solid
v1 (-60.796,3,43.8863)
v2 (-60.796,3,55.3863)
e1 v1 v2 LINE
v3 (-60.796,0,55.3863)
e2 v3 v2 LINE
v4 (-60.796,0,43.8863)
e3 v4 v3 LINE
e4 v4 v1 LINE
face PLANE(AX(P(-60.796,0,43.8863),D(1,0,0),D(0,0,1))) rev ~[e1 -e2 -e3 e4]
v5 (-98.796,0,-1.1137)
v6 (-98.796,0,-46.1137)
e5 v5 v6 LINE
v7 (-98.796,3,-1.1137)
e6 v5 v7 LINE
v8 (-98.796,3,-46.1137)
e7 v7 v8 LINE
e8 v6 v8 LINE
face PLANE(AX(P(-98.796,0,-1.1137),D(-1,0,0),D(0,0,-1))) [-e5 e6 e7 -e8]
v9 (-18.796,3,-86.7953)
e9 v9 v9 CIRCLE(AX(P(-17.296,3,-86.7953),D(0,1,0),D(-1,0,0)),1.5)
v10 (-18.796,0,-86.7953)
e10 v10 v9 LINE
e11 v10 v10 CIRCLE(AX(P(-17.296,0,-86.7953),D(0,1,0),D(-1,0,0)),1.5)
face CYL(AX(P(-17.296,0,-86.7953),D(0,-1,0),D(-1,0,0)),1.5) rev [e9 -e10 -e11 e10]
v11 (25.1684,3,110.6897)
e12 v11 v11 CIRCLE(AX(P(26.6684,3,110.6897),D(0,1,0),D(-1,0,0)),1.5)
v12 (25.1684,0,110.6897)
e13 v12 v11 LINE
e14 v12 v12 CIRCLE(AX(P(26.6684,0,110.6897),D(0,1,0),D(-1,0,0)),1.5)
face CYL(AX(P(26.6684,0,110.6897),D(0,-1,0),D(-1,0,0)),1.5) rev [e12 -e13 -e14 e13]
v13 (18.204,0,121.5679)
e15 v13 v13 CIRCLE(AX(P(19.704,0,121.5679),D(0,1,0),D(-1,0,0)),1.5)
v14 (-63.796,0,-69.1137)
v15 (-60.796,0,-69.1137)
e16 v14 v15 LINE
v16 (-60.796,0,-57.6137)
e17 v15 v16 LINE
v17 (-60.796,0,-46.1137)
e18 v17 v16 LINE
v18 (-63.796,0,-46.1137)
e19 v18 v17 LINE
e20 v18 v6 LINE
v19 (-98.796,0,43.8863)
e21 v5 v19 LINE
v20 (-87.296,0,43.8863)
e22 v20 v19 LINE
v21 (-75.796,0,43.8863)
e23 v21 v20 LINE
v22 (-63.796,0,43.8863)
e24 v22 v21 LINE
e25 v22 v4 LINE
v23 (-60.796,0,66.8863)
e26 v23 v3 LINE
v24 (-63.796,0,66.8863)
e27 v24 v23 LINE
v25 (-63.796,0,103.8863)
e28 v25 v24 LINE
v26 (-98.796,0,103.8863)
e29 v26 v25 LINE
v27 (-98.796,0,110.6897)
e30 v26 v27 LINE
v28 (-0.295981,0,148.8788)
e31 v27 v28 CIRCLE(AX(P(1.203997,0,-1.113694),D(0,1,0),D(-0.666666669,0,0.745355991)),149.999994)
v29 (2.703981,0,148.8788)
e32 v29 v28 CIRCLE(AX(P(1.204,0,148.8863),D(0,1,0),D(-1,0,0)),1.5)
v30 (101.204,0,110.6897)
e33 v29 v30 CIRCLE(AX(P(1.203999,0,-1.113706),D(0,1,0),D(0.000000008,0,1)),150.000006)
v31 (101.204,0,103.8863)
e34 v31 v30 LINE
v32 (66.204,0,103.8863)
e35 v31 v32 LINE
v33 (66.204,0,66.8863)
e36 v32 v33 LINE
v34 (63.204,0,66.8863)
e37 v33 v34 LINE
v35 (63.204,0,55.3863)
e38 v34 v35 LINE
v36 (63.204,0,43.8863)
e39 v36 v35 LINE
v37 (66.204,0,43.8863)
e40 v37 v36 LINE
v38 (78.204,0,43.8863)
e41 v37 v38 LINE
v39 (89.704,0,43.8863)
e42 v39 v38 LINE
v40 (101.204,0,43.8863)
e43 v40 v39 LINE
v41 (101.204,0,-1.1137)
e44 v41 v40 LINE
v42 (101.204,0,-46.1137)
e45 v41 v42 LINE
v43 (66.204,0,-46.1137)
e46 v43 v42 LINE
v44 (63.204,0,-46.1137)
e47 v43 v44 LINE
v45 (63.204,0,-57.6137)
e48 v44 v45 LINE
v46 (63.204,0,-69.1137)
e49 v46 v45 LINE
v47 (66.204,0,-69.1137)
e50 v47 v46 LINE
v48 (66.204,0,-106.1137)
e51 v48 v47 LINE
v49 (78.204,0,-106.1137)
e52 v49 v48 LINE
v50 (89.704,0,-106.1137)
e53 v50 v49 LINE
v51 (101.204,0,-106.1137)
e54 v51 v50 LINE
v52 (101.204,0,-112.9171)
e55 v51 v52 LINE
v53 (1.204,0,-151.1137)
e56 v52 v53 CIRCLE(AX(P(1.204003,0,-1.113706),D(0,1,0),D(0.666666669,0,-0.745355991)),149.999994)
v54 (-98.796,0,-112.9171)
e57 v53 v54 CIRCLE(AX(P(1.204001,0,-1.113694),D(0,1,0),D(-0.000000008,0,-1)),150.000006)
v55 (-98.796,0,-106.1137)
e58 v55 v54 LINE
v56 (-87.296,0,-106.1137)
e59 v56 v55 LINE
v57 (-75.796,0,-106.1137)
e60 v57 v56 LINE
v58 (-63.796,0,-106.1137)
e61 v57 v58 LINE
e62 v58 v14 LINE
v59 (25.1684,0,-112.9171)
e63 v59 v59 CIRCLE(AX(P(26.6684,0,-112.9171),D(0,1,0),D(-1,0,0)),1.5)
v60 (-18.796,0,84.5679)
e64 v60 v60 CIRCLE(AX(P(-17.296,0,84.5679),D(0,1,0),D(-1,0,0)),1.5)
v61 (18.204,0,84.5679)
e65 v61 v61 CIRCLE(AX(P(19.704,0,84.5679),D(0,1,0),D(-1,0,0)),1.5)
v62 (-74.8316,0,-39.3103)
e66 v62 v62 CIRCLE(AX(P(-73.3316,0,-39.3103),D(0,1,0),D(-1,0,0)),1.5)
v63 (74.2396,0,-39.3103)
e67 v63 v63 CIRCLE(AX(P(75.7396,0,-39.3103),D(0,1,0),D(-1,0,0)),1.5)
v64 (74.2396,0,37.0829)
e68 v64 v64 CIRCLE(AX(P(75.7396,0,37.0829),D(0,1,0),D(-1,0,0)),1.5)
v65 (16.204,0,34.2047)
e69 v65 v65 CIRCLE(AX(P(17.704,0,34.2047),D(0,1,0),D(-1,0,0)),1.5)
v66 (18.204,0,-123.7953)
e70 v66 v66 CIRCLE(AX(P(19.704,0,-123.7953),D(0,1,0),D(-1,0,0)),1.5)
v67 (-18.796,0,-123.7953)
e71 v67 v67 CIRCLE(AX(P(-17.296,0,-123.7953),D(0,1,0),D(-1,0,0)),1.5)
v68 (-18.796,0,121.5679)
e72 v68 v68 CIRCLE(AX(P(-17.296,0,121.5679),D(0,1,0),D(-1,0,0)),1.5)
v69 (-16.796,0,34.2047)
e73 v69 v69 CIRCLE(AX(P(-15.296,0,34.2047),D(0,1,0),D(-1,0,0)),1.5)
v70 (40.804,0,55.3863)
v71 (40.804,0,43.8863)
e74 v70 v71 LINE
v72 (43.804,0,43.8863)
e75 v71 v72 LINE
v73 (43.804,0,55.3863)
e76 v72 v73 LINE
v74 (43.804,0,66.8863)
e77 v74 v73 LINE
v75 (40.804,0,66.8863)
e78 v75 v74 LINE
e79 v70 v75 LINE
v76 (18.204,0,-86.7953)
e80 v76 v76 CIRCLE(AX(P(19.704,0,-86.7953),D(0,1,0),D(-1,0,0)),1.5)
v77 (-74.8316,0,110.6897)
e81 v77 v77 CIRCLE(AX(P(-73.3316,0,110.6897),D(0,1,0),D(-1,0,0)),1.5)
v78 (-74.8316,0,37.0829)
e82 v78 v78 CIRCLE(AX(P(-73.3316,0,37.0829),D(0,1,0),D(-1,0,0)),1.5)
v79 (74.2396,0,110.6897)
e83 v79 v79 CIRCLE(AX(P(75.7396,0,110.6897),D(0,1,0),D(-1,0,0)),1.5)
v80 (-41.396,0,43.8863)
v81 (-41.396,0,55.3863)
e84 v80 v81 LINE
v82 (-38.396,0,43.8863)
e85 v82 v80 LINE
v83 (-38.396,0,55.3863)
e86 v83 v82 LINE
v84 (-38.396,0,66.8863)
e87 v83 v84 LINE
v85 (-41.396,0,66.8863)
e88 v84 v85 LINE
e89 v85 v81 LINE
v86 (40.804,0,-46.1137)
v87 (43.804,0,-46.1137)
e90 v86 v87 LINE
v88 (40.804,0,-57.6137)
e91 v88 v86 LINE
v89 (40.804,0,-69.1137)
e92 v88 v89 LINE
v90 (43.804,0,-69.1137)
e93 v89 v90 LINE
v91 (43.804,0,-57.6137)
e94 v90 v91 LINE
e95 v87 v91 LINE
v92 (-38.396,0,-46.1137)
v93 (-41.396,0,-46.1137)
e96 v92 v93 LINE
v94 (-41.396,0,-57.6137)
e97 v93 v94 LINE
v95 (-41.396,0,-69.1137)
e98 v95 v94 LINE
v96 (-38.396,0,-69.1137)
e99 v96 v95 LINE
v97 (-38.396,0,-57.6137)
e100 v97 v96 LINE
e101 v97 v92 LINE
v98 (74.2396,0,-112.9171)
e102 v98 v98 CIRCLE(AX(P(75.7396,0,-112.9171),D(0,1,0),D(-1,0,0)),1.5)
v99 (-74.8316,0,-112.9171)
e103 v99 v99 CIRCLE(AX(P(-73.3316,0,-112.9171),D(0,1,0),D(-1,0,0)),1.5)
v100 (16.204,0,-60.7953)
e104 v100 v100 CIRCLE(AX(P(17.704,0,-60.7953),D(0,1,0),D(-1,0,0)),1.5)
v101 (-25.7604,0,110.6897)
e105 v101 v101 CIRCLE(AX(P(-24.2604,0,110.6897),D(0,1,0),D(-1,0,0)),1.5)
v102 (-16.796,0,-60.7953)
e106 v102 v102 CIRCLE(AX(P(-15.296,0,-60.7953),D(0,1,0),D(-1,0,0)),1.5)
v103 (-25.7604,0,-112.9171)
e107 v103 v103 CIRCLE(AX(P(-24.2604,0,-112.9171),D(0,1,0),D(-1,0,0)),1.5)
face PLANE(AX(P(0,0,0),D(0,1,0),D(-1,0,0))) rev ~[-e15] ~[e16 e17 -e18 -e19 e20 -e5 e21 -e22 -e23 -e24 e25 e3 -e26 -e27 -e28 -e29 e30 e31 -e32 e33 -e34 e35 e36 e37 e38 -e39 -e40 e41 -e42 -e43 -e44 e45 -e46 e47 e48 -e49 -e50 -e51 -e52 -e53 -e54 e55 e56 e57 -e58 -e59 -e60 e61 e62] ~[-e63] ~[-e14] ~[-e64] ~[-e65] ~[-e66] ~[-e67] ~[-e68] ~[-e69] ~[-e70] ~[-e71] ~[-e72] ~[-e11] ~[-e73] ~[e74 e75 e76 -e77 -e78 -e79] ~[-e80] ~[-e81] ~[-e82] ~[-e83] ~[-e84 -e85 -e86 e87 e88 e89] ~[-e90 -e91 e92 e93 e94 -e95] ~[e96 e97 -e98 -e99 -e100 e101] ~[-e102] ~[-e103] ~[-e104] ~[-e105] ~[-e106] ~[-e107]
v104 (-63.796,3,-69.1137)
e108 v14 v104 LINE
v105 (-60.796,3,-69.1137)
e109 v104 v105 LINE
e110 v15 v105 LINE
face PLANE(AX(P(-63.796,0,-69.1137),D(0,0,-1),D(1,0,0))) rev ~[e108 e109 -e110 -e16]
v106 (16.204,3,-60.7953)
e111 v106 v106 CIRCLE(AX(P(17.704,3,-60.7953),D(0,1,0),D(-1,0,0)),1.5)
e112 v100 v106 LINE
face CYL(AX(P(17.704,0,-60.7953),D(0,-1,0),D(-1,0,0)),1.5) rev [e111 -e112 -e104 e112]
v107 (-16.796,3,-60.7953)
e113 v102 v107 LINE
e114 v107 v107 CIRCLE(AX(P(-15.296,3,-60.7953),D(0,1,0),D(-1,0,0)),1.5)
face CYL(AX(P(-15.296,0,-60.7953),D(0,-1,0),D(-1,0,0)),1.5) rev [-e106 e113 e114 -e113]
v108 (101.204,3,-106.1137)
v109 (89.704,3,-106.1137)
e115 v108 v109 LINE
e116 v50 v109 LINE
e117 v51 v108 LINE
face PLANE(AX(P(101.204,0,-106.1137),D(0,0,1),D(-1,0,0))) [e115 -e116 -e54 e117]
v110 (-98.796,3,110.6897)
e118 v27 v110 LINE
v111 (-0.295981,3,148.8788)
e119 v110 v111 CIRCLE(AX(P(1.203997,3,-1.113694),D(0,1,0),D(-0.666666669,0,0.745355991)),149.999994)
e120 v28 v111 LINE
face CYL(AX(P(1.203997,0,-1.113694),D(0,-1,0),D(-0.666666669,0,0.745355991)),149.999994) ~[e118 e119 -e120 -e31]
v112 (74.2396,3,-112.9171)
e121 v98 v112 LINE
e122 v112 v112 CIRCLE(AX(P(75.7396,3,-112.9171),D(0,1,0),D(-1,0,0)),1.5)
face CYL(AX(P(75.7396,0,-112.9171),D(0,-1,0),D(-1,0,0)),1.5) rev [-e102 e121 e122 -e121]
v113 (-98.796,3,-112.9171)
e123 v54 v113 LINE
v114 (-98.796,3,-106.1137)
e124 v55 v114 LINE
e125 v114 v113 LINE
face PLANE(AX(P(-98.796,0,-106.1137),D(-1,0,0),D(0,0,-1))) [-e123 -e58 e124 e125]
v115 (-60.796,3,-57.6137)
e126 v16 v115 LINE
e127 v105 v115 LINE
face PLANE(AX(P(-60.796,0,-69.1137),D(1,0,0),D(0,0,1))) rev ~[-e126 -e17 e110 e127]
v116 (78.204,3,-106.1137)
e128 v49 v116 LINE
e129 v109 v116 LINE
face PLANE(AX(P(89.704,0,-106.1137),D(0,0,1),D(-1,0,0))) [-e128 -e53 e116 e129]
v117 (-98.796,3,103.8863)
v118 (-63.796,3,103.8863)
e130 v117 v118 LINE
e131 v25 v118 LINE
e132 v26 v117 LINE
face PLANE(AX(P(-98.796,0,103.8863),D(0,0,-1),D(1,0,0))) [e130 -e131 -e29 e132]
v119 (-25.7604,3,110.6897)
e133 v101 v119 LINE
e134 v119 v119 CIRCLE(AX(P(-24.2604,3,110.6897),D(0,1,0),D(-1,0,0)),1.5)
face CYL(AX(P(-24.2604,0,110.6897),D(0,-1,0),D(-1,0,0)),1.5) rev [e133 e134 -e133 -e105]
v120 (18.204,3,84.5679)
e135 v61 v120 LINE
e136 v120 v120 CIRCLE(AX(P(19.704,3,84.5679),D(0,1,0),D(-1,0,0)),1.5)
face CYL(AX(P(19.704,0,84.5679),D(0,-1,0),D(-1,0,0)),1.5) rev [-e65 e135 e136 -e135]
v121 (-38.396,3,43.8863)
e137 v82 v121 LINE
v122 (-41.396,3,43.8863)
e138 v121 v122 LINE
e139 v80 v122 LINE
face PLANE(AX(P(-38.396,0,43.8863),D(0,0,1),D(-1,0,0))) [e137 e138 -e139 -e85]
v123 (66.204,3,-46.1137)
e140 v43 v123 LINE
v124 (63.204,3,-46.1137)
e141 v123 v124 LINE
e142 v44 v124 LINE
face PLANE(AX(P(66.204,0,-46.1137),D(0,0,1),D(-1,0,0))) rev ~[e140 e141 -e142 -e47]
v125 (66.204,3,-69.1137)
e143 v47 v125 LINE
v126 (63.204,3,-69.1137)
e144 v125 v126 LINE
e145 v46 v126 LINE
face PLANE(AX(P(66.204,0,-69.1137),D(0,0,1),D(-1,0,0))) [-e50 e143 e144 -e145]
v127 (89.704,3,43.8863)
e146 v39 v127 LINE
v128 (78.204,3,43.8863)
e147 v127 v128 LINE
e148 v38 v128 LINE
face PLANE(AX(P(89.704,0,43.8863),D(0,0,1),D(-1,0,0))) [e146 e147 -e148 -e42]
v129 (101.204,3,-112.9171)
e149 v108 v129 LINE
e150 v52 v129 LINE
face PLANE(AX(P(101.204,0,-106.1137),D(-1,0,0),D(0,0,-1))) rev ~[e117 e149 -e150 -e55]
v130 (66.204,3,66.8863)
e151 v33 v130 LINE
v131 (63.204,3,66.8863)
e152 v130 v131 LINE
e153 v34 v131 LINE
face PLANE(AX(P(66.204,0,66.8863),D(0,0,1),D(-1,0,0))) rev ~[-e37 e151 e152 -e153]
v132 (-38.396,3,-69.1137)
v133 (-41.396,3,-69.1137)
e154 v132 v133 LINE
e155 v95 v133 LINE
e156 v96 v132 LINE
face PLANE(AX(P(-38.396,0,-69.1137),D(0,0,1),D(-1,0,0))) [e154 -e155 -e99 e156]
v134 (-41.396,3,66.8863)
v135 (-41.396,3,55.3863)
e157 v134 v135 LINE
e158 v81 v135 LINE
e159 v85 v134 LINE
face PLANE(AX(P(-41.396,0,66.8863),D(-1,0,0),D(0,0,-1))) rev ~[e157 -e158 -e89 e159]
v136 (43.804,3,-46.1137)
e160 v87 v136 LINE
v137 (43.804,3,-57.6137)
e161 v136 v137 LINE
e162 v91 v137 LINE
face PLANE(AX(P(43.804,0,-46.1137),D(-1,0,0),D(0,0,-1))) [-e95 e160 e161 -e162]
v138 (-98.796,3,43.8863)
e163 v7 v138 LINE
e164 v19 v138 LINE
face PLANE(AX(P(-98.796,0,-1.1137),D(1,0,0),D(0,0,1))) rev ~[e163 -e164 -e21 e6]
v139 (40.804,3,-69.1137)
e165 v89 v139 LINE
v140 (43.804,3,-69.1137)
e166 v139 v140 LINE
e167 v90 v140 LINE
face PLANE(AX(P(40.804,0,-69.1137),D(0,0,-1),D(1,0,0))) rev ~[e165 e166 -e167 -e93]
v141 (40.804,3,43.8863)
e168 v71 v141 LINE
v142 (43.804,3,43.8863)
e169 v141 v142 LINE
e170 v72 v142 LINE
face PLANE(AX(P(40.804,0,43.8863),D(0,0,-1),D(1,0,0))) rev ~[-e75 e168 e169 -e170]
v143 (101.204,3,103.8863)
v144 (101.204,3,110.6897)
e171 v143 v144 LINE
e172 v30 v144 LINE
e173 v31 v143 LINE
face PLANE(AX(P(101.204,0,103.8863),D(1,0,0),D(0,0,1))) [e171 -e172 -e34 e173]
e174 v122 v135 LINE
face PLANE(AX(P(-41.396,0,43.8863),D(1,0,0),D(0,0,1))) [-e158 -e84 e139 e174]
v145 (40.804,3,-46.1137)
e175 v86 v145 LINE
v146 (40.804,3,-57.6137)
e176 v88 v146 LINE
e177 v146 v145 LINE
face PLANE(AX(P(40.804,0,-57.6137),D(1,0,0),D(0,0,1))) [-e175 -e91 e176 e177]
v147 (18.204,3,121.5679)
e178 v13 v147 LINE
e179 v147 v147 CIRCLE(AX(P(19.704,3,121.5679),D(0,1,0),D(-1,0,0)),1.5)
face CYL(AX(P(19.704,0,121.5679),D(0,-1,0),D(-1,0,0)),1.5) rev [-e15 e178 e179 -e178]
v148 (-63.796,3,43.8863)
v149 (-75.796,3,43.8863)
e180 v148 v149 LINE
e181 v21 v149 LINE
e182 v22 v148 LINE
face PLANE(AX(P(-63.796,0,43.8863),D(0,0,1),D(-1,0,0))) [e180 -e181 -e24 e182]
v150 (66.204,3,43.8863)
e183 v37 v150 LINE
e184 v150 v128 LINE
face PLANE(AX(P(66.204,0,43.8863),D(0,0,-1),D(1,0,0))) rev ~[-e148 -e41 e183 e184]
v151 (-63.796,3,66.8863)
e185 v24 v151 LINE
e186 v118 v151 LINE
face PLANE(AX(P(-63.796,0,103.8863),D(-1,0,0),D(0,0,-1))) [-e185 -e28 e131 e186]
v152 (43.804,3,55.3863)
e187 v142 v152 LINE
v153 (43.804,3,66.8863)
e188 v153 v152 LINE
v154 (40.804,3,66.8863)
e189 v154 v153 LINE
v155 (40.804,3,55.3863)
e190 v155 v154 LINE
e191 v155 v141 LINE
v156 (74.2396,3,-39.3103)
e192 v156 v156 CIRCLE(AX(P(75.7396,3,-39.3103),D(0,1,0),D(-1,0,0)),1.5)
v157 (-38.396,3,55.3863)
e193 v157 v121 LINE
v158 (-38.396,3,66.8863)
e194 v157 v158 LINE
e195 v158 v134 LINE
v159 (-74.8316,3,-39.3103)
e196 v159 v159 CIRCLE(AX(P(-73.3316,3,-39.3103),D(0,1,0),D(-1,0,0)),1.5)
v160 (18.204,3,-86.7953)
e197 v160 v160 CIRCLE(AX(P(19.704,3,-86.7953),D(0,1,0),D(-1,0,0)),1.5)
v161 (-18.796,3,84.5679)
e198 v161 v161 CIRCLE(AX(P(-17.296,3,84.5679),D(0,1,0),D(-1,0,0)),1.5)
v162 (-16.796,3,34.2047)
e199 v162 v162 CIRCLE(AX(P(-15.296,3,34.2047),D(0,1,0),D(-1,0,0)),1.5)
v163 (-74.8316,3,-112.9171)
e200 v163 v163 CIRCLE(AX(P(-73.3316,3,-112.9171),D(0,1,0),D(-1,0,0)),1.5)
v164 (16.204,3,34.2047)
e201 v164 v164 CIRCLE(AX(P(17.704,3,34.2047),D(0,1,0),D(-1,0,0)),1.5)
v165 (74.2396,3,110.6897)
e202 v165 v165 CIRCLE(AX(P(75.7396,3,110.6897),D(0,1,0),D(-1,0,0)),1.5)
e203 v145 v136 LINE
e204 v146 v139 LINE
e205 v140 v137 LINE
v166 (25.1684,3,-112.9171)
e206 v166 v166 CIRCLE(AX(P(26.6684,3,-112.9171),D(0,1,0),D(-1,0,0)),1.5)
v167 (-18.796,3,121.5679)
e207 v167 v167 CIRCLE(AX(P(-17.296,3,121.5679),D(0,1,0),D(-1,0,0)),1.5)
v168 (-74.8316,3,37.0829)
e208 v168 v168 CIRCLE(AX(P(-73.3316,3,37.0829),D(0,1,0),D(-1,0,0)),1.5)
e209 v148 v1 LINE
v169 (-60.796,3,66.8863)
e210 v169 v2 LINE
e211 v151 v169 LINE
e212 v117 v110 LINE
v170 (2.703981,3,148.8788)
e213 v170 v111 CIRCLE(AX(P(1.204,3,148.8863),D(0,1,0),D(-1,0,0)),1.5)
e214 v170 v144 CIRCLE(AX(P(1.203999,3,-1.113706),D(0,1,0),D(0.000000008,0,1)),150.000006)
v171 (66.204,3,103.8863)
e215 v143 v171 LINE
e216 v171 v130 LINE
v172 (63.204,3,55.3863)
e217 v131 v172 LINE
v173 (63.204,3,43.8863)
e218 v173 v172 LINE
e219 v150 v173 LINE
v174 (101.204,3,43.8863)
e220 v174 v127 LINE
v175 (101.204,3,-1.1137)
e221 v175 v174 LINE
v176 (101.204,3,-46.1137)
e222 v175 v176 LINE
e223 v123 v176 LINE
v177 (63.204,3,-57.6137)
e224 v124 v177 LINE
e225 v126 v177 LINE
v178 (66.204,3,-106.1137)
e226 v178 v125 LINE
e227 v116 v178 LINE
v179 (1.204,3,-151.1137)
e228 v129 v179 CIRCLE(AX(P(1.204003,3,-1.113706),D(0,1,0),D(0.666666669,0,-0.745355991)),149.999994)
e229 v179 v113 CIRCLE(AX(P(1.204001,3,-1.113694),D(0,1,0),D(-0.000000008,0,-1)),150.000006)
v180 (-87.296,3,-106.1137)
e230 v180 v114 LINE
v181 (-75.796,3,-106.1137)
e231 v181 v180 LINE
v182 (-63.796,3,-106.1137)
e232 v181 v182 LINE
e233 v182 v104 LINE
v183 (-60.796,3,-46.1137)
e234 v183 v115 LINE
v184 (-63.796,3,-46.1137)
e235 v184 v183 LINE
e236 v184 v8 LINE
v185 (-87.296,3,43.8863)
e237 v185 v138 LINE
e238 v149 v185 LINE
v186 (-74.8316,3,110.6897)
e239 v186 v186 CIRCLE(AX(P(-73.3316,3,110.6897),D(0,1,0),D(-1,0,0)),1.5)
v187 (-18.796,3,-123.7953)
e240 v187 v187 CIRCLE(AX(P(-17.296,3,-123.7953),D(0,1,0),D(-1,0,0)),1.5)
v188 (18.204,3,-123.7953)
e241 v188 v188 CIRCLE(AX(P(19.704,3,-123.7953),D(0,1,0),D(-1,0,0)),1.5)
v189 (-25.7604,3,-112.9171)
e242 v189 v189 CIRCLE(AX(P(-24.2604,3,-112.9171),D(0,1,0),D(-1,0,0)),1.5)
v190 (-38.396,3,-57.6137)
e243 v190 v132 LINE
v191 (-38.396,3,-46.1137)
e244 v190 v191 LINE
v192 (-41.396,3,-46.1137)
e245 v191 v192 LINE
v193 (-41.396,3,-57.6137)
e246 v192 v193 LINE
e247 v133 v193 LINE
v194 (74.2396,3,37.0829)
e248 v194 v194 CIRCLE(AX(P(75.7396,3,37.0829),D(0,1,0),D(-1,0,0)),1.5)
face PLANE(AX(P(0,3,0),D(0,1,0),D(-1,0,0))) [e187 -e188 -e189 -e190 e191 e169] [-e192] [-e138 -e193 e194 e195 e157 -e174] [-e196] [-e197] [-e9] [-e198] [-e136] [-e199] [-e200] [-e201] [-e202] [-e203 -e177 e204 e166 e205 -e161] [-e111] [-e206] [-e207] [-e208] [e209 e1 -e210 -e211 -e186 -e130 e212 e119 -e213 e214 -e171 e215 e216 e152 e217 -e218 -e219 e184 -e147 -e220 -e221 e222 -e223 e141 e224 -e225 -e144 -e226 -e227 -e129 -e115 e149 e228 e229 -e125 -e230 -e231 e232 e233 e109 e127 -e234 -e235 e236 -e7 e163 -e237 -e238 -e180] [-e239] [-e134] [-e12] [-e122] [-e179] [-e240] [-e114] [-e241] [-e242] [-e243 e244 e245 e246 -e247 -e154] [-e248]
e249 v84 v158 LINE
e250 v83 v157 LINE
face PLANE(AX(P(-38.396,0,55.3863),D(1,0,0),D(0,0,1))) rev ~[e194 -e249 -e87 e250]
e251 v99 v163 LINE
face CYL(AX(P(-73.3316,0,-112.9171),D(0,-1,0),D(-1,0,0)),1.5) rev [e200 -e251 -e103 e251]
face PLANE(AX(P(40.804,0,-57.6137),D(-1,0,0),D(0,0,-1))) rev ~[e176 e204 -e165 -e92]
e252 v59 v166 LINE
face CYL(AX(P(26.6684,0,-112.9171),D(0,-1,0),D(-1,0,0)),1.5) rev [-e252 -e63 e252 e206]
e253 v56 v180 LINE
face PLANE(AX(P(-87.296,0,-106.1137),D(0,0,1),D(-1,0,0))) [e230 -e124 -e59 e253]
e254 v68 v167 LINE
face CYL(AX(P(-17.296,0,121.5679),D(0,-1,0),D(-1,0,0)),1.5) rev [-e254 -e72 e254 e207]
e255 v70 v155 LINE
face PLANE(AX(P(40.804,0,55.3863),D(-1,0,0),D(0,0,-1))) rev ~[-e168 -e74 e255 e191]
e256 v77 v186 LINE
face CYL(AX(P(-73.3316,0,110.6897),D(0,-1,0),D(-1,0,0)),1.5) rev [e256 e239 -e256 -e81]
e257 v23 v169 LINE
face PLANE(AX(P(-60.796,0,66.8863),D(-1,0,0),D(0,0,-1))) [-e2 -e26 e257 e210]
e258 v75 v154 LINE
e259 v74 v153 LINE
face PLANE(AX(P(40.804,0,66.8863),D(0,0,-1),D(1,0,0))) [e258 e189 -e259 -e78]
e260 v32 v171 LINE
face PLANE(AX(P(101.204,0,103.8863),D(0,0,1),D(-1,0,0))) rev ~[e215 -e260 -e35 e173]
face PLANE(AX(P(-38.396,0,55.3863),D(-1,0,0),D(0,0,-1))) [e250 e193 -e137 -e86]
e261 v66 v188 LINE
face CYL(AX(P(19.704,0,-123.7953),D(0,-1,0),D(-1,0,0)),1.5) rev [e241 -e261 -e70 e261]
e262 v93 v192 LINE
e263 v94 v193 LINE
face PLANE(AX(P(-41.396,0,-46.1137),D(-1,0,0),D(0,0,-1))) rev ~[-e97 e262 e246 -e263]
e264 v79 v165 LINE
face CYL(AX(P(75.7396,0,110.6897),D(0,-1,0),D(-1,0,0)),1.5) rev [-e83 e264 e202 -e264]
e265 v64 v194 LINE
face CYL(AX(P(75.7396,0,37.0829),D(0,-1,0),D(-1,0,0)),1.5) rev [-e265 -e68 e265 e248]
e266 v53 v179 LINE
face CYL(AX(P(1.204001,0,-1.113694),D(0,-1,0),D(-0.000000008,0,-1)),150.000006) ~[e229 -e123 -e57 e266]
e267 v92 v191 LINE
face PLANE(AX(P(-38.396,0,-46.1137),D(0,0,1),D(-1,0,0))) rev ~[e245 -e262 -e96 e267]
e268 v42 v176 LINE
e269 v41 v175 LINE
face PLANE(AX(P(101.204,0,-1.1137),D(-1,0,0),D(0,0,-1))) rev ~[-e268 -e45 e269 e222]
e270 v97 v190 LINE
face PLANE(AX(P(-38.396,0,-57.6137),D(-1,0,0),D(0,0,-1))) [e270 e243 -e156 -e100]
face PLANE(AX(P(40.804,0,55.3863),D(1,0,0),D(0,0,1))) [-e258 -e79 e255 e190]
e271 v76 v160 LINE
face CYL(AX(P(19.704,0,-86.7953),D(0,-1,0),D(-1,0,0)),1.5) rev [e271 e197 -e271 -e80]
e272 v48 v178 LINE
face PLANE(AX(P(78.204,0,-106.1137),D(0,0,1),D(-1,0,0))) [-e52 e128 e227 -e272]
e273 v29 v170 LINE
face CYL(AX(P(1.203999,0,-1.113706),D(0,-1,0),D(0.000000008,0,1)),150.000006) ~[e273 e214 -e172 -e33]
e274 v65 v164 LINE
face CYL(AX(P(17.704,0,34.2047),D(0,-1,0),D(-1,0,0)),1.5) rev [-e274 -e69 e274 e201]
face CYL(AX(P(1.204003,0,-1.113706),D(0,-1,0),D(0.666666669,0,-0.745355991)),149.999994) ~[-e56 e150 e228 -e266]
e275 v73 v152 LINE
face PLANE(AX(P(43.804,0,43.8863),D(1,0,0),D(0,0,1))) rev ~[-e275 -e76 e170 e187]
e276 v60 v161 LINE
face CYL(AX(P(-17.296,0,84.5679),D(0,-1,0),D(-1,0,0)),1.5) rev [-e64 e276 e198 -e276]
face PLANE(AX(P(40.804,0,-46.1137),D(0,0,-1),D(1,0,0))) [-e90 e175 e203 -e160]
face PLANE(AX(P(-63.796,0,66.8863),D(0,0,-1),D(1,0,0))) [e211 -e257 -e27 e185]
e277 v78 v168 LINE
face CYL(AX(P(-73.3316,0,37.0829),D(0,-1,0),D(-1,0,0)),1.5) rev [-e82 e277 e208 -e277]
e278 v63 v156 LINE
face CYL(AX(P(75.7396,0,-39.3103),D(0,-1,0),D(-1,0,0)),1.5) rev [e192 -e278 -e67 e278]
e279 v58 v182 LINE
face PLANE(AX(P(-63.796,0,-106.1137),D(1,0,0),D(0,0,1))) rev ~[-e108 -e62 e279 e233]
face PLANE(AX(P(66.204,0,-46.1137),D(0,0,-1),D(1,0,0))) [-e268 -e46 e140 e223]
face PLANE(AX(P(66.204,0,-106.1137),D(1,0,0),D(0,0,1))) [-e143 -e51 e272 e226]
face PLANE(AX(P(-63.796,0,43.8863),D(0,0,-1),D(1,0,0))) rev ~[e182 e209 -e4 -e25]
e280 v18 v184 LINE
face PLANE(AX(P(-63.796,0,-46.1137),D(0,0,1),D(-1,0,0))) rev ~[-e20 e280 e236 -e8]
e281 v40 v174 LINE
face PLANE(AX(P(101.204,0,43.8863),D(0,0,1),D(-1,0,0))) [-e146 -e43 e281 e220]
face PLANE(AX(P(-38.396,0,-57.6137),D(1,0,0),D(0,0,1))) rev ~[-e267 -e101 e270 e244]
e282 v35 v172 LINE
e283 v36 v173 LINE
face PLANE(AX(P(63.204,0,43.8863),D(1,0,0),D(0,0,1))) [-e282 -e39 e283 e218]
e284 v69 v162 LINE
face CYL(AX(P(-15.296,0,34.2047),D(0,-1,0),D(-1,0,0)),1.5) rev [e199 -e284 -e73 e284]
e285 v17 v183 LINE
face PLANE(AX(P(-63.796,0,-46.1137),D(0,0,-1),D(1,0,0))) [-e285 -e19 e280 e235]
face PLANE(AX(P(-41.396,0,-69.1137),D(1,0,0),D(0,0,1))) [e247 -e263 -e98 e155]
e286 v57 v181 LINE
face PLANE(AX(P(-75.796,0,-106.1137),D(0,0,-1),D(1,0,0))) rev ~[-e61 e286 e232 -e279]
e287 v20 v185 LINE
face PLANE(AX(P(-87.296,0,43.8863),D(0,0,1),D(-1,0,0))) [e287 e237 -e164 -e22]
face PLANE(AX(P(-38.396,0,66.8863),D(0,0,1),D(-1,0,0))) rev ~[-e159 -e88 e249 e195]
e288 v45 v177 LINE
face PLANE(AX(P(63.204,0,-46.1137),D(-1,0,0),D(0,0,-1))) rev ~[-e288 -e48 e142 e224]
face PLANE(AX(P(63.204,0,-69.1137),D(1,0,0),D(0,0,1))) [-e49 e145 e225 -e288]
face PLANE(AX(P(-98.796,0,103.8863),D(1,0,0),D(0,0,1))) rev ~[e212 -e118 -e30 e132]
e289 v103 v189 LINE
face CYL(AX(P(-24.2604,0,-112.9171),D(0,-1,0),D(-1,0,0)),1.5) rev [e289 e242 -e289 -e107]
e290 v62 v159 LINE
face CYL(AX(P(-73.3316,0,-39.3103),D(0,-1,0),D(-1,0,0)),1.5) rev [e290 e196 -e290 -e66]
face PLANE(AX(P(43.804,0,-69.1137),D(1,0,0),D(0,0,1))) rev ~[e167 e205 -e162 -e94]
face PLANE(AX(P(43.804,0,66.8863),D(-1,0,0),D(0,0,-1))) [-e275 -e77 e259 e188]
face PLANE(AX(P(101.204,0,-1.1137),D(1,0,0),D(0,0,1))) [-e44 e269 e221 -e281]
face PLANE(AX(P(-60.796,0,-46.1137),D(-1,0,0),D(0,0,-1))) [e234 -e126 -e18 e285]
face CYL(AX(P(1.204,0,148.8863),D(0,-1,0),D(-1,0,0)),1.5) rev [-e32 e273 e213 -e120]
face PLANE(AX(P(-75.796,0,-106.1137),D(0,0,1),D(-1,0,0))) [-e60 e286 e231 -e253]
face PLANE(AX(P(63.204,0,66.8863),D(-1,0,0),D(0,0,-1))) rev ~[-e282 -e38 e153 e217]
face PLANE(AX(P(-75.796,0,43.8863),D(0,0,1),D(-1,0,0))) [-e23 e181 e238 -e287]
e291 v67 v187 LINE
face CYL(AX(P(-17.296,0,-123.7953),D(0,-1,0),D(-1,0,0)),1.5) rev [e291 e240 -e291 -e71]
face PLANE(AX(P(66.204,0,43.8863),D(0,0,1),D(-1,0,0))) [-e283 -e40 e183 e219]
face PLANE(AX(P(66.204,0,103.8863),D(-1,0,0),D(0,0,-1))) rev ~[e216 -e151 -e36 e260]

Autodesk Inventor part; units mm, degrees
ref_plane "YZ Plane" through (0, 0, 0) normal (1, 0, 0) x (0, 1, 0)
ref_plane "XZ Plane" through (0, 0, 0) normal (0, 1, 0) x (-1, 0, 0)
ref_plane "XY Plane" through (0, 0, 0) normal (0, 0, 1) x (1, 0, 0)
sketch "Sketch1" plane through (0, 0, 0) normal (0, 1, 0) x (-1, 0, 0)
  circle A0 centre (-19.704, -123.7953) radius 1.5
  circle A1 centre (-26.6684, -112.9171) radius 1.5
  circle A2 centre (-75.7396, -112.9171) radius 1.5
  line L0 (-101.204, -106.1137) -> (-89.704, -106.1137)
  line L1 (-101.204, -106.1137) -> (-66.204, -106.1137)
  arc A3 (-101.204, -112.9171) -> (-1.204, -151.1137) centre (-1.204, -1.1137) ccw
  line L2 (-101.204, -106.1137) -> (-101.204, -112.9171)
  line L3 (-89.704, -106.1137) -> (-78.204, -106.1137)
  circle A4 centre (17.296, 121.5679) radius 1.5
  circle A5 centre (17.296, 84.5679) radius 1.5
  line L4 (63.796, 103.8863) -> (63.796, 66.8863)
  circle A6 centre (24.2604, 110.6897) radius 1.5
  circle A7 centre (73.3316, 110.6897) radius 1.5
  line L5 (98.796, 103.8863) -> (63.796, 103.8863)
  arc A8 (98.796, 110.6897) -> (-1.204, 148.8863) centre (-1.204, -1.1137) ccw
  line L6 (75.796, 43.8863) -> (87.296, 43.8863)
  circle A9 centre (73.3316, 37.0829) radius 1.5
  line L7 (87.296, 43.8863) -> (98.796, 43.8863)
  circle A10 centre (-19.704, 121.5679) radius 1.5
  circle A11 centre (-1.204, 148.8863) radius 1.5
  circle A12 centre (-26.6684, 110.6897) radius 1.5
  circle A13 centre (-75.7396, 110.6897) radius 1.5
  line L8 (-101.204, 103.8863) -> (-66.204, 103.8863)
  line L9 (-101.204, 103.8863) -> (-101.204, 110.6897)
  arc A14 (-1.204, 148.8863) -> (-101.204, 110.6897) centre (-1.204, -1.1137) ccw
  line L10 (-2.704, 148.8863) -> (-1.204, 148.8863)
  line L11 (0.296, 148.8863) -> (-1.204, 148.8863)
  line L12 (63.796, -69.1137) -> (60.796, -69.1137)
  line L13 (38.396, -69.1137) -> (41.396, -69.1137)
  line L14 (63.796, -46.1137) -> (98.796, -46.1137)
  line L15 (60.796, -69.1137) -> (60.796, -57.6137)
  line L16 (41.396, -69.1137) -> (41.396, -57.6137)
  line L17 (63.796, -46.1137) -> (60.796, -46.1137)
  line L18 (60.796, -46.1137) -> (60.796, -57.6137)
  line L19 (41.396, -46.1137) -> (41.396, -57.6137)
  line L20 (38.396, -46.1137) -> (41.396, -46.1137)
  line L21 (38.396, -57.6137) -> (38.396, -46.1137)
  circle A15 centre (73.3316, -39.3103) radius 1.5
  line L22 (38.396, -57.6137) -> (38.396, -69.1137)
  circle A16 centre (17.296, -123.7953) radius 1.5
  circle A17 centre (17.296, -86.7953) radius 1.5
  circle A18 centre (15.296, -60.7953) radius 1.5
  line L23 (75.796, -106.1137) -> (87.296, -106.1137)
  line L24 (87.296, -106.1137) -> (98.796, -106.1137)
  circle A19 centre (24.2604, -112.9171) radius 1.5
  line L25 (63.796, -106.1137) -> (63.796, -69.1137)
  circle A20 centre (73.3316, -112.9171) radius 1.5
  arc A21 (-1.204, -151.1137) -> (98.796, -112.9171) centre (-1.204, -1.1137) ccw
  line L26 (98.796, -106.1137) -> (63.796, -106.1137)
  circle A22 centre (-17.704, 34.2047) radius 1.5
  line L27 (-101.204, 43.8863) -> (-89.704, 43.8863)
  line L28 (-89.704, 43.8863) -> (-78.204, 43.8863)
  circle A23 centre (-75.7396, 37.0829) radius 1.5
  circle A24 centre (-75.7396, -39.3103) radius 1.5
  line L29 (-66.204, -46.1137) -> (-101.204, -46.1137)
  line L30 (-66.204, 43.8863) -> (-101.204, 43.8863)
  line L31 (-66.204, -46.1137) -> (-63.204, -46.1137)
  line L32 (-101.204, -1.1137) -> (-101.204, -46.1137)
  line L33 (-101.204, -1.1137) -> (-101.204, 43.8863)
  line L34 (98.796, -1.1137) -> (98.796, -46.1137)
  line L35 (98.796, -1.1137) -> (98.796, -46.1137)
  line L36 (98.796, -1.1137) -> (98.796, 43.8863)
  line L37 (98.796, -1.1137) -> (98.796, 43.8863)
  circle A25 centre (-19.704, 84.5679) radius 1.5
  line L38 (-66.204, 103.8863) -> (-66.204, 66.8863)
  line L39 (-40.804, 66.8863) -> (-43.804, 66.8863)
  line L40 (-40.804, 55.3863) -> (-40.804, 66.8863)
  line L41 (-43.804, 66.8863) -> (-43.804, 55.3863)
  line L42 (-66.204, 66.8863) -> (-63.204, 66.8863)
  line L43 (-63.204, 66.8863) -> (-63.204, 55.3863)
  line L44 (-40.804, 55.3863) -> (-40.804, 43.8863)
  line L45 (-40.804, 43.8863) -> (-43.804, 43.8863)
  line L46 (-43.804, 43.8863) -> (-43.804, 55.3863)
  line L47 (-63.204, 43.8863) -> (-63.204, 55.3863)
  line L48 (-66.204, 43.8863) -> (-63.204, 43.8863)
  circle A26 centre (-19.704, -86.7953) radius 1.5
  line L49 (-66.204, -106.1137) -> (-66.204, -69.1137)
  line L50 (-66.204, -69.1137) -> (-63.204, -69.1137)
  line L51 (-40.804, -69.1137) -> (-43.804, -69.1137)
  line L52 (-43.804, -69.1137) -> (-43.804, -57.6137)
  line L53 (-40.804, -57.6137) -> (-40.804, -69.1137)
  line L54 (-63.204, -46.1137) -> (-63.204, -57.6137)
  circle A27 centre (-17.704, -60.7953) radius 1.5
  line L55 (-43.804, -46.1137) -> (-43.804, -57.6137)
  line L56 (-40.804, -46.1137) -> (-43.804, -46.1137)
  line L57 (-40.804, -57.6137) -> (-40.804, -46.1137)
  line L58 (-63.204, -69.1137) -> (-63.204, -57.6137)
  line L59 (98.796, 103.8863) -> (98.796, 110.6897)
  line L60 (98.796, 103.8863) -> (98.796, 110.6897)
  line L61 (98.796, -106.1137) -> (98.796, -112.9171)
  line L62 (98.796, -106.1137) -> (98.796, -112.9171)
  line L63 (63.796, 43.8863) -> (98.796, 43.8863)
  line L64 (63.796, 66.8863) -> (60.796, 66.8863)
  line L65 (38.396, 66.8863) -> (41.396, 66.8863)
  line L66 (60.796, 66.8863) -> (60.796, 55.3863)
  line L67 (41.396, 66.8863) -> (41.396, 55.3863)
  line L68 (38.396, 55.3863) -> (38.396, 66.8863)
  line L69 (63.796, 43.8863) -> (60.796, 43.8863)
  line L70 (60.796, 43.8863) -> (60.796, 55.3863)
  line L71 (41.396, 43.8863) -> (41.396, 55.3863)
  line L72 (38.396, 43.8863) -> (41.396, 43.8863)
  line L73 (38.396, 55.3863) -> (38.396, 43.8863)
  circle A28 centre (15.296, 34.2047) radius 1.5
  point P0 (0, 0)
  point P1 (0.296, 148.8863)
  point P2 (-2.704, 148.8788)
extrude "Extrusion1" add sketch "Sketch1" along normal blind 3 contours L0 L1 L49 L50 L58 L54 L31 L29 L32 L33 L27 L28 L30 L48 L47 L43 L42 L38 L8 L9 A14 A11 A8 L59 L5 L4 L64 L66 L70 L69 L63 L6 L7 L36 L34 L14 L17 L18 L15 L12 L25 L26 L23 L24 L61 A21 A3 L2
properties part number "ChasisInferior"
